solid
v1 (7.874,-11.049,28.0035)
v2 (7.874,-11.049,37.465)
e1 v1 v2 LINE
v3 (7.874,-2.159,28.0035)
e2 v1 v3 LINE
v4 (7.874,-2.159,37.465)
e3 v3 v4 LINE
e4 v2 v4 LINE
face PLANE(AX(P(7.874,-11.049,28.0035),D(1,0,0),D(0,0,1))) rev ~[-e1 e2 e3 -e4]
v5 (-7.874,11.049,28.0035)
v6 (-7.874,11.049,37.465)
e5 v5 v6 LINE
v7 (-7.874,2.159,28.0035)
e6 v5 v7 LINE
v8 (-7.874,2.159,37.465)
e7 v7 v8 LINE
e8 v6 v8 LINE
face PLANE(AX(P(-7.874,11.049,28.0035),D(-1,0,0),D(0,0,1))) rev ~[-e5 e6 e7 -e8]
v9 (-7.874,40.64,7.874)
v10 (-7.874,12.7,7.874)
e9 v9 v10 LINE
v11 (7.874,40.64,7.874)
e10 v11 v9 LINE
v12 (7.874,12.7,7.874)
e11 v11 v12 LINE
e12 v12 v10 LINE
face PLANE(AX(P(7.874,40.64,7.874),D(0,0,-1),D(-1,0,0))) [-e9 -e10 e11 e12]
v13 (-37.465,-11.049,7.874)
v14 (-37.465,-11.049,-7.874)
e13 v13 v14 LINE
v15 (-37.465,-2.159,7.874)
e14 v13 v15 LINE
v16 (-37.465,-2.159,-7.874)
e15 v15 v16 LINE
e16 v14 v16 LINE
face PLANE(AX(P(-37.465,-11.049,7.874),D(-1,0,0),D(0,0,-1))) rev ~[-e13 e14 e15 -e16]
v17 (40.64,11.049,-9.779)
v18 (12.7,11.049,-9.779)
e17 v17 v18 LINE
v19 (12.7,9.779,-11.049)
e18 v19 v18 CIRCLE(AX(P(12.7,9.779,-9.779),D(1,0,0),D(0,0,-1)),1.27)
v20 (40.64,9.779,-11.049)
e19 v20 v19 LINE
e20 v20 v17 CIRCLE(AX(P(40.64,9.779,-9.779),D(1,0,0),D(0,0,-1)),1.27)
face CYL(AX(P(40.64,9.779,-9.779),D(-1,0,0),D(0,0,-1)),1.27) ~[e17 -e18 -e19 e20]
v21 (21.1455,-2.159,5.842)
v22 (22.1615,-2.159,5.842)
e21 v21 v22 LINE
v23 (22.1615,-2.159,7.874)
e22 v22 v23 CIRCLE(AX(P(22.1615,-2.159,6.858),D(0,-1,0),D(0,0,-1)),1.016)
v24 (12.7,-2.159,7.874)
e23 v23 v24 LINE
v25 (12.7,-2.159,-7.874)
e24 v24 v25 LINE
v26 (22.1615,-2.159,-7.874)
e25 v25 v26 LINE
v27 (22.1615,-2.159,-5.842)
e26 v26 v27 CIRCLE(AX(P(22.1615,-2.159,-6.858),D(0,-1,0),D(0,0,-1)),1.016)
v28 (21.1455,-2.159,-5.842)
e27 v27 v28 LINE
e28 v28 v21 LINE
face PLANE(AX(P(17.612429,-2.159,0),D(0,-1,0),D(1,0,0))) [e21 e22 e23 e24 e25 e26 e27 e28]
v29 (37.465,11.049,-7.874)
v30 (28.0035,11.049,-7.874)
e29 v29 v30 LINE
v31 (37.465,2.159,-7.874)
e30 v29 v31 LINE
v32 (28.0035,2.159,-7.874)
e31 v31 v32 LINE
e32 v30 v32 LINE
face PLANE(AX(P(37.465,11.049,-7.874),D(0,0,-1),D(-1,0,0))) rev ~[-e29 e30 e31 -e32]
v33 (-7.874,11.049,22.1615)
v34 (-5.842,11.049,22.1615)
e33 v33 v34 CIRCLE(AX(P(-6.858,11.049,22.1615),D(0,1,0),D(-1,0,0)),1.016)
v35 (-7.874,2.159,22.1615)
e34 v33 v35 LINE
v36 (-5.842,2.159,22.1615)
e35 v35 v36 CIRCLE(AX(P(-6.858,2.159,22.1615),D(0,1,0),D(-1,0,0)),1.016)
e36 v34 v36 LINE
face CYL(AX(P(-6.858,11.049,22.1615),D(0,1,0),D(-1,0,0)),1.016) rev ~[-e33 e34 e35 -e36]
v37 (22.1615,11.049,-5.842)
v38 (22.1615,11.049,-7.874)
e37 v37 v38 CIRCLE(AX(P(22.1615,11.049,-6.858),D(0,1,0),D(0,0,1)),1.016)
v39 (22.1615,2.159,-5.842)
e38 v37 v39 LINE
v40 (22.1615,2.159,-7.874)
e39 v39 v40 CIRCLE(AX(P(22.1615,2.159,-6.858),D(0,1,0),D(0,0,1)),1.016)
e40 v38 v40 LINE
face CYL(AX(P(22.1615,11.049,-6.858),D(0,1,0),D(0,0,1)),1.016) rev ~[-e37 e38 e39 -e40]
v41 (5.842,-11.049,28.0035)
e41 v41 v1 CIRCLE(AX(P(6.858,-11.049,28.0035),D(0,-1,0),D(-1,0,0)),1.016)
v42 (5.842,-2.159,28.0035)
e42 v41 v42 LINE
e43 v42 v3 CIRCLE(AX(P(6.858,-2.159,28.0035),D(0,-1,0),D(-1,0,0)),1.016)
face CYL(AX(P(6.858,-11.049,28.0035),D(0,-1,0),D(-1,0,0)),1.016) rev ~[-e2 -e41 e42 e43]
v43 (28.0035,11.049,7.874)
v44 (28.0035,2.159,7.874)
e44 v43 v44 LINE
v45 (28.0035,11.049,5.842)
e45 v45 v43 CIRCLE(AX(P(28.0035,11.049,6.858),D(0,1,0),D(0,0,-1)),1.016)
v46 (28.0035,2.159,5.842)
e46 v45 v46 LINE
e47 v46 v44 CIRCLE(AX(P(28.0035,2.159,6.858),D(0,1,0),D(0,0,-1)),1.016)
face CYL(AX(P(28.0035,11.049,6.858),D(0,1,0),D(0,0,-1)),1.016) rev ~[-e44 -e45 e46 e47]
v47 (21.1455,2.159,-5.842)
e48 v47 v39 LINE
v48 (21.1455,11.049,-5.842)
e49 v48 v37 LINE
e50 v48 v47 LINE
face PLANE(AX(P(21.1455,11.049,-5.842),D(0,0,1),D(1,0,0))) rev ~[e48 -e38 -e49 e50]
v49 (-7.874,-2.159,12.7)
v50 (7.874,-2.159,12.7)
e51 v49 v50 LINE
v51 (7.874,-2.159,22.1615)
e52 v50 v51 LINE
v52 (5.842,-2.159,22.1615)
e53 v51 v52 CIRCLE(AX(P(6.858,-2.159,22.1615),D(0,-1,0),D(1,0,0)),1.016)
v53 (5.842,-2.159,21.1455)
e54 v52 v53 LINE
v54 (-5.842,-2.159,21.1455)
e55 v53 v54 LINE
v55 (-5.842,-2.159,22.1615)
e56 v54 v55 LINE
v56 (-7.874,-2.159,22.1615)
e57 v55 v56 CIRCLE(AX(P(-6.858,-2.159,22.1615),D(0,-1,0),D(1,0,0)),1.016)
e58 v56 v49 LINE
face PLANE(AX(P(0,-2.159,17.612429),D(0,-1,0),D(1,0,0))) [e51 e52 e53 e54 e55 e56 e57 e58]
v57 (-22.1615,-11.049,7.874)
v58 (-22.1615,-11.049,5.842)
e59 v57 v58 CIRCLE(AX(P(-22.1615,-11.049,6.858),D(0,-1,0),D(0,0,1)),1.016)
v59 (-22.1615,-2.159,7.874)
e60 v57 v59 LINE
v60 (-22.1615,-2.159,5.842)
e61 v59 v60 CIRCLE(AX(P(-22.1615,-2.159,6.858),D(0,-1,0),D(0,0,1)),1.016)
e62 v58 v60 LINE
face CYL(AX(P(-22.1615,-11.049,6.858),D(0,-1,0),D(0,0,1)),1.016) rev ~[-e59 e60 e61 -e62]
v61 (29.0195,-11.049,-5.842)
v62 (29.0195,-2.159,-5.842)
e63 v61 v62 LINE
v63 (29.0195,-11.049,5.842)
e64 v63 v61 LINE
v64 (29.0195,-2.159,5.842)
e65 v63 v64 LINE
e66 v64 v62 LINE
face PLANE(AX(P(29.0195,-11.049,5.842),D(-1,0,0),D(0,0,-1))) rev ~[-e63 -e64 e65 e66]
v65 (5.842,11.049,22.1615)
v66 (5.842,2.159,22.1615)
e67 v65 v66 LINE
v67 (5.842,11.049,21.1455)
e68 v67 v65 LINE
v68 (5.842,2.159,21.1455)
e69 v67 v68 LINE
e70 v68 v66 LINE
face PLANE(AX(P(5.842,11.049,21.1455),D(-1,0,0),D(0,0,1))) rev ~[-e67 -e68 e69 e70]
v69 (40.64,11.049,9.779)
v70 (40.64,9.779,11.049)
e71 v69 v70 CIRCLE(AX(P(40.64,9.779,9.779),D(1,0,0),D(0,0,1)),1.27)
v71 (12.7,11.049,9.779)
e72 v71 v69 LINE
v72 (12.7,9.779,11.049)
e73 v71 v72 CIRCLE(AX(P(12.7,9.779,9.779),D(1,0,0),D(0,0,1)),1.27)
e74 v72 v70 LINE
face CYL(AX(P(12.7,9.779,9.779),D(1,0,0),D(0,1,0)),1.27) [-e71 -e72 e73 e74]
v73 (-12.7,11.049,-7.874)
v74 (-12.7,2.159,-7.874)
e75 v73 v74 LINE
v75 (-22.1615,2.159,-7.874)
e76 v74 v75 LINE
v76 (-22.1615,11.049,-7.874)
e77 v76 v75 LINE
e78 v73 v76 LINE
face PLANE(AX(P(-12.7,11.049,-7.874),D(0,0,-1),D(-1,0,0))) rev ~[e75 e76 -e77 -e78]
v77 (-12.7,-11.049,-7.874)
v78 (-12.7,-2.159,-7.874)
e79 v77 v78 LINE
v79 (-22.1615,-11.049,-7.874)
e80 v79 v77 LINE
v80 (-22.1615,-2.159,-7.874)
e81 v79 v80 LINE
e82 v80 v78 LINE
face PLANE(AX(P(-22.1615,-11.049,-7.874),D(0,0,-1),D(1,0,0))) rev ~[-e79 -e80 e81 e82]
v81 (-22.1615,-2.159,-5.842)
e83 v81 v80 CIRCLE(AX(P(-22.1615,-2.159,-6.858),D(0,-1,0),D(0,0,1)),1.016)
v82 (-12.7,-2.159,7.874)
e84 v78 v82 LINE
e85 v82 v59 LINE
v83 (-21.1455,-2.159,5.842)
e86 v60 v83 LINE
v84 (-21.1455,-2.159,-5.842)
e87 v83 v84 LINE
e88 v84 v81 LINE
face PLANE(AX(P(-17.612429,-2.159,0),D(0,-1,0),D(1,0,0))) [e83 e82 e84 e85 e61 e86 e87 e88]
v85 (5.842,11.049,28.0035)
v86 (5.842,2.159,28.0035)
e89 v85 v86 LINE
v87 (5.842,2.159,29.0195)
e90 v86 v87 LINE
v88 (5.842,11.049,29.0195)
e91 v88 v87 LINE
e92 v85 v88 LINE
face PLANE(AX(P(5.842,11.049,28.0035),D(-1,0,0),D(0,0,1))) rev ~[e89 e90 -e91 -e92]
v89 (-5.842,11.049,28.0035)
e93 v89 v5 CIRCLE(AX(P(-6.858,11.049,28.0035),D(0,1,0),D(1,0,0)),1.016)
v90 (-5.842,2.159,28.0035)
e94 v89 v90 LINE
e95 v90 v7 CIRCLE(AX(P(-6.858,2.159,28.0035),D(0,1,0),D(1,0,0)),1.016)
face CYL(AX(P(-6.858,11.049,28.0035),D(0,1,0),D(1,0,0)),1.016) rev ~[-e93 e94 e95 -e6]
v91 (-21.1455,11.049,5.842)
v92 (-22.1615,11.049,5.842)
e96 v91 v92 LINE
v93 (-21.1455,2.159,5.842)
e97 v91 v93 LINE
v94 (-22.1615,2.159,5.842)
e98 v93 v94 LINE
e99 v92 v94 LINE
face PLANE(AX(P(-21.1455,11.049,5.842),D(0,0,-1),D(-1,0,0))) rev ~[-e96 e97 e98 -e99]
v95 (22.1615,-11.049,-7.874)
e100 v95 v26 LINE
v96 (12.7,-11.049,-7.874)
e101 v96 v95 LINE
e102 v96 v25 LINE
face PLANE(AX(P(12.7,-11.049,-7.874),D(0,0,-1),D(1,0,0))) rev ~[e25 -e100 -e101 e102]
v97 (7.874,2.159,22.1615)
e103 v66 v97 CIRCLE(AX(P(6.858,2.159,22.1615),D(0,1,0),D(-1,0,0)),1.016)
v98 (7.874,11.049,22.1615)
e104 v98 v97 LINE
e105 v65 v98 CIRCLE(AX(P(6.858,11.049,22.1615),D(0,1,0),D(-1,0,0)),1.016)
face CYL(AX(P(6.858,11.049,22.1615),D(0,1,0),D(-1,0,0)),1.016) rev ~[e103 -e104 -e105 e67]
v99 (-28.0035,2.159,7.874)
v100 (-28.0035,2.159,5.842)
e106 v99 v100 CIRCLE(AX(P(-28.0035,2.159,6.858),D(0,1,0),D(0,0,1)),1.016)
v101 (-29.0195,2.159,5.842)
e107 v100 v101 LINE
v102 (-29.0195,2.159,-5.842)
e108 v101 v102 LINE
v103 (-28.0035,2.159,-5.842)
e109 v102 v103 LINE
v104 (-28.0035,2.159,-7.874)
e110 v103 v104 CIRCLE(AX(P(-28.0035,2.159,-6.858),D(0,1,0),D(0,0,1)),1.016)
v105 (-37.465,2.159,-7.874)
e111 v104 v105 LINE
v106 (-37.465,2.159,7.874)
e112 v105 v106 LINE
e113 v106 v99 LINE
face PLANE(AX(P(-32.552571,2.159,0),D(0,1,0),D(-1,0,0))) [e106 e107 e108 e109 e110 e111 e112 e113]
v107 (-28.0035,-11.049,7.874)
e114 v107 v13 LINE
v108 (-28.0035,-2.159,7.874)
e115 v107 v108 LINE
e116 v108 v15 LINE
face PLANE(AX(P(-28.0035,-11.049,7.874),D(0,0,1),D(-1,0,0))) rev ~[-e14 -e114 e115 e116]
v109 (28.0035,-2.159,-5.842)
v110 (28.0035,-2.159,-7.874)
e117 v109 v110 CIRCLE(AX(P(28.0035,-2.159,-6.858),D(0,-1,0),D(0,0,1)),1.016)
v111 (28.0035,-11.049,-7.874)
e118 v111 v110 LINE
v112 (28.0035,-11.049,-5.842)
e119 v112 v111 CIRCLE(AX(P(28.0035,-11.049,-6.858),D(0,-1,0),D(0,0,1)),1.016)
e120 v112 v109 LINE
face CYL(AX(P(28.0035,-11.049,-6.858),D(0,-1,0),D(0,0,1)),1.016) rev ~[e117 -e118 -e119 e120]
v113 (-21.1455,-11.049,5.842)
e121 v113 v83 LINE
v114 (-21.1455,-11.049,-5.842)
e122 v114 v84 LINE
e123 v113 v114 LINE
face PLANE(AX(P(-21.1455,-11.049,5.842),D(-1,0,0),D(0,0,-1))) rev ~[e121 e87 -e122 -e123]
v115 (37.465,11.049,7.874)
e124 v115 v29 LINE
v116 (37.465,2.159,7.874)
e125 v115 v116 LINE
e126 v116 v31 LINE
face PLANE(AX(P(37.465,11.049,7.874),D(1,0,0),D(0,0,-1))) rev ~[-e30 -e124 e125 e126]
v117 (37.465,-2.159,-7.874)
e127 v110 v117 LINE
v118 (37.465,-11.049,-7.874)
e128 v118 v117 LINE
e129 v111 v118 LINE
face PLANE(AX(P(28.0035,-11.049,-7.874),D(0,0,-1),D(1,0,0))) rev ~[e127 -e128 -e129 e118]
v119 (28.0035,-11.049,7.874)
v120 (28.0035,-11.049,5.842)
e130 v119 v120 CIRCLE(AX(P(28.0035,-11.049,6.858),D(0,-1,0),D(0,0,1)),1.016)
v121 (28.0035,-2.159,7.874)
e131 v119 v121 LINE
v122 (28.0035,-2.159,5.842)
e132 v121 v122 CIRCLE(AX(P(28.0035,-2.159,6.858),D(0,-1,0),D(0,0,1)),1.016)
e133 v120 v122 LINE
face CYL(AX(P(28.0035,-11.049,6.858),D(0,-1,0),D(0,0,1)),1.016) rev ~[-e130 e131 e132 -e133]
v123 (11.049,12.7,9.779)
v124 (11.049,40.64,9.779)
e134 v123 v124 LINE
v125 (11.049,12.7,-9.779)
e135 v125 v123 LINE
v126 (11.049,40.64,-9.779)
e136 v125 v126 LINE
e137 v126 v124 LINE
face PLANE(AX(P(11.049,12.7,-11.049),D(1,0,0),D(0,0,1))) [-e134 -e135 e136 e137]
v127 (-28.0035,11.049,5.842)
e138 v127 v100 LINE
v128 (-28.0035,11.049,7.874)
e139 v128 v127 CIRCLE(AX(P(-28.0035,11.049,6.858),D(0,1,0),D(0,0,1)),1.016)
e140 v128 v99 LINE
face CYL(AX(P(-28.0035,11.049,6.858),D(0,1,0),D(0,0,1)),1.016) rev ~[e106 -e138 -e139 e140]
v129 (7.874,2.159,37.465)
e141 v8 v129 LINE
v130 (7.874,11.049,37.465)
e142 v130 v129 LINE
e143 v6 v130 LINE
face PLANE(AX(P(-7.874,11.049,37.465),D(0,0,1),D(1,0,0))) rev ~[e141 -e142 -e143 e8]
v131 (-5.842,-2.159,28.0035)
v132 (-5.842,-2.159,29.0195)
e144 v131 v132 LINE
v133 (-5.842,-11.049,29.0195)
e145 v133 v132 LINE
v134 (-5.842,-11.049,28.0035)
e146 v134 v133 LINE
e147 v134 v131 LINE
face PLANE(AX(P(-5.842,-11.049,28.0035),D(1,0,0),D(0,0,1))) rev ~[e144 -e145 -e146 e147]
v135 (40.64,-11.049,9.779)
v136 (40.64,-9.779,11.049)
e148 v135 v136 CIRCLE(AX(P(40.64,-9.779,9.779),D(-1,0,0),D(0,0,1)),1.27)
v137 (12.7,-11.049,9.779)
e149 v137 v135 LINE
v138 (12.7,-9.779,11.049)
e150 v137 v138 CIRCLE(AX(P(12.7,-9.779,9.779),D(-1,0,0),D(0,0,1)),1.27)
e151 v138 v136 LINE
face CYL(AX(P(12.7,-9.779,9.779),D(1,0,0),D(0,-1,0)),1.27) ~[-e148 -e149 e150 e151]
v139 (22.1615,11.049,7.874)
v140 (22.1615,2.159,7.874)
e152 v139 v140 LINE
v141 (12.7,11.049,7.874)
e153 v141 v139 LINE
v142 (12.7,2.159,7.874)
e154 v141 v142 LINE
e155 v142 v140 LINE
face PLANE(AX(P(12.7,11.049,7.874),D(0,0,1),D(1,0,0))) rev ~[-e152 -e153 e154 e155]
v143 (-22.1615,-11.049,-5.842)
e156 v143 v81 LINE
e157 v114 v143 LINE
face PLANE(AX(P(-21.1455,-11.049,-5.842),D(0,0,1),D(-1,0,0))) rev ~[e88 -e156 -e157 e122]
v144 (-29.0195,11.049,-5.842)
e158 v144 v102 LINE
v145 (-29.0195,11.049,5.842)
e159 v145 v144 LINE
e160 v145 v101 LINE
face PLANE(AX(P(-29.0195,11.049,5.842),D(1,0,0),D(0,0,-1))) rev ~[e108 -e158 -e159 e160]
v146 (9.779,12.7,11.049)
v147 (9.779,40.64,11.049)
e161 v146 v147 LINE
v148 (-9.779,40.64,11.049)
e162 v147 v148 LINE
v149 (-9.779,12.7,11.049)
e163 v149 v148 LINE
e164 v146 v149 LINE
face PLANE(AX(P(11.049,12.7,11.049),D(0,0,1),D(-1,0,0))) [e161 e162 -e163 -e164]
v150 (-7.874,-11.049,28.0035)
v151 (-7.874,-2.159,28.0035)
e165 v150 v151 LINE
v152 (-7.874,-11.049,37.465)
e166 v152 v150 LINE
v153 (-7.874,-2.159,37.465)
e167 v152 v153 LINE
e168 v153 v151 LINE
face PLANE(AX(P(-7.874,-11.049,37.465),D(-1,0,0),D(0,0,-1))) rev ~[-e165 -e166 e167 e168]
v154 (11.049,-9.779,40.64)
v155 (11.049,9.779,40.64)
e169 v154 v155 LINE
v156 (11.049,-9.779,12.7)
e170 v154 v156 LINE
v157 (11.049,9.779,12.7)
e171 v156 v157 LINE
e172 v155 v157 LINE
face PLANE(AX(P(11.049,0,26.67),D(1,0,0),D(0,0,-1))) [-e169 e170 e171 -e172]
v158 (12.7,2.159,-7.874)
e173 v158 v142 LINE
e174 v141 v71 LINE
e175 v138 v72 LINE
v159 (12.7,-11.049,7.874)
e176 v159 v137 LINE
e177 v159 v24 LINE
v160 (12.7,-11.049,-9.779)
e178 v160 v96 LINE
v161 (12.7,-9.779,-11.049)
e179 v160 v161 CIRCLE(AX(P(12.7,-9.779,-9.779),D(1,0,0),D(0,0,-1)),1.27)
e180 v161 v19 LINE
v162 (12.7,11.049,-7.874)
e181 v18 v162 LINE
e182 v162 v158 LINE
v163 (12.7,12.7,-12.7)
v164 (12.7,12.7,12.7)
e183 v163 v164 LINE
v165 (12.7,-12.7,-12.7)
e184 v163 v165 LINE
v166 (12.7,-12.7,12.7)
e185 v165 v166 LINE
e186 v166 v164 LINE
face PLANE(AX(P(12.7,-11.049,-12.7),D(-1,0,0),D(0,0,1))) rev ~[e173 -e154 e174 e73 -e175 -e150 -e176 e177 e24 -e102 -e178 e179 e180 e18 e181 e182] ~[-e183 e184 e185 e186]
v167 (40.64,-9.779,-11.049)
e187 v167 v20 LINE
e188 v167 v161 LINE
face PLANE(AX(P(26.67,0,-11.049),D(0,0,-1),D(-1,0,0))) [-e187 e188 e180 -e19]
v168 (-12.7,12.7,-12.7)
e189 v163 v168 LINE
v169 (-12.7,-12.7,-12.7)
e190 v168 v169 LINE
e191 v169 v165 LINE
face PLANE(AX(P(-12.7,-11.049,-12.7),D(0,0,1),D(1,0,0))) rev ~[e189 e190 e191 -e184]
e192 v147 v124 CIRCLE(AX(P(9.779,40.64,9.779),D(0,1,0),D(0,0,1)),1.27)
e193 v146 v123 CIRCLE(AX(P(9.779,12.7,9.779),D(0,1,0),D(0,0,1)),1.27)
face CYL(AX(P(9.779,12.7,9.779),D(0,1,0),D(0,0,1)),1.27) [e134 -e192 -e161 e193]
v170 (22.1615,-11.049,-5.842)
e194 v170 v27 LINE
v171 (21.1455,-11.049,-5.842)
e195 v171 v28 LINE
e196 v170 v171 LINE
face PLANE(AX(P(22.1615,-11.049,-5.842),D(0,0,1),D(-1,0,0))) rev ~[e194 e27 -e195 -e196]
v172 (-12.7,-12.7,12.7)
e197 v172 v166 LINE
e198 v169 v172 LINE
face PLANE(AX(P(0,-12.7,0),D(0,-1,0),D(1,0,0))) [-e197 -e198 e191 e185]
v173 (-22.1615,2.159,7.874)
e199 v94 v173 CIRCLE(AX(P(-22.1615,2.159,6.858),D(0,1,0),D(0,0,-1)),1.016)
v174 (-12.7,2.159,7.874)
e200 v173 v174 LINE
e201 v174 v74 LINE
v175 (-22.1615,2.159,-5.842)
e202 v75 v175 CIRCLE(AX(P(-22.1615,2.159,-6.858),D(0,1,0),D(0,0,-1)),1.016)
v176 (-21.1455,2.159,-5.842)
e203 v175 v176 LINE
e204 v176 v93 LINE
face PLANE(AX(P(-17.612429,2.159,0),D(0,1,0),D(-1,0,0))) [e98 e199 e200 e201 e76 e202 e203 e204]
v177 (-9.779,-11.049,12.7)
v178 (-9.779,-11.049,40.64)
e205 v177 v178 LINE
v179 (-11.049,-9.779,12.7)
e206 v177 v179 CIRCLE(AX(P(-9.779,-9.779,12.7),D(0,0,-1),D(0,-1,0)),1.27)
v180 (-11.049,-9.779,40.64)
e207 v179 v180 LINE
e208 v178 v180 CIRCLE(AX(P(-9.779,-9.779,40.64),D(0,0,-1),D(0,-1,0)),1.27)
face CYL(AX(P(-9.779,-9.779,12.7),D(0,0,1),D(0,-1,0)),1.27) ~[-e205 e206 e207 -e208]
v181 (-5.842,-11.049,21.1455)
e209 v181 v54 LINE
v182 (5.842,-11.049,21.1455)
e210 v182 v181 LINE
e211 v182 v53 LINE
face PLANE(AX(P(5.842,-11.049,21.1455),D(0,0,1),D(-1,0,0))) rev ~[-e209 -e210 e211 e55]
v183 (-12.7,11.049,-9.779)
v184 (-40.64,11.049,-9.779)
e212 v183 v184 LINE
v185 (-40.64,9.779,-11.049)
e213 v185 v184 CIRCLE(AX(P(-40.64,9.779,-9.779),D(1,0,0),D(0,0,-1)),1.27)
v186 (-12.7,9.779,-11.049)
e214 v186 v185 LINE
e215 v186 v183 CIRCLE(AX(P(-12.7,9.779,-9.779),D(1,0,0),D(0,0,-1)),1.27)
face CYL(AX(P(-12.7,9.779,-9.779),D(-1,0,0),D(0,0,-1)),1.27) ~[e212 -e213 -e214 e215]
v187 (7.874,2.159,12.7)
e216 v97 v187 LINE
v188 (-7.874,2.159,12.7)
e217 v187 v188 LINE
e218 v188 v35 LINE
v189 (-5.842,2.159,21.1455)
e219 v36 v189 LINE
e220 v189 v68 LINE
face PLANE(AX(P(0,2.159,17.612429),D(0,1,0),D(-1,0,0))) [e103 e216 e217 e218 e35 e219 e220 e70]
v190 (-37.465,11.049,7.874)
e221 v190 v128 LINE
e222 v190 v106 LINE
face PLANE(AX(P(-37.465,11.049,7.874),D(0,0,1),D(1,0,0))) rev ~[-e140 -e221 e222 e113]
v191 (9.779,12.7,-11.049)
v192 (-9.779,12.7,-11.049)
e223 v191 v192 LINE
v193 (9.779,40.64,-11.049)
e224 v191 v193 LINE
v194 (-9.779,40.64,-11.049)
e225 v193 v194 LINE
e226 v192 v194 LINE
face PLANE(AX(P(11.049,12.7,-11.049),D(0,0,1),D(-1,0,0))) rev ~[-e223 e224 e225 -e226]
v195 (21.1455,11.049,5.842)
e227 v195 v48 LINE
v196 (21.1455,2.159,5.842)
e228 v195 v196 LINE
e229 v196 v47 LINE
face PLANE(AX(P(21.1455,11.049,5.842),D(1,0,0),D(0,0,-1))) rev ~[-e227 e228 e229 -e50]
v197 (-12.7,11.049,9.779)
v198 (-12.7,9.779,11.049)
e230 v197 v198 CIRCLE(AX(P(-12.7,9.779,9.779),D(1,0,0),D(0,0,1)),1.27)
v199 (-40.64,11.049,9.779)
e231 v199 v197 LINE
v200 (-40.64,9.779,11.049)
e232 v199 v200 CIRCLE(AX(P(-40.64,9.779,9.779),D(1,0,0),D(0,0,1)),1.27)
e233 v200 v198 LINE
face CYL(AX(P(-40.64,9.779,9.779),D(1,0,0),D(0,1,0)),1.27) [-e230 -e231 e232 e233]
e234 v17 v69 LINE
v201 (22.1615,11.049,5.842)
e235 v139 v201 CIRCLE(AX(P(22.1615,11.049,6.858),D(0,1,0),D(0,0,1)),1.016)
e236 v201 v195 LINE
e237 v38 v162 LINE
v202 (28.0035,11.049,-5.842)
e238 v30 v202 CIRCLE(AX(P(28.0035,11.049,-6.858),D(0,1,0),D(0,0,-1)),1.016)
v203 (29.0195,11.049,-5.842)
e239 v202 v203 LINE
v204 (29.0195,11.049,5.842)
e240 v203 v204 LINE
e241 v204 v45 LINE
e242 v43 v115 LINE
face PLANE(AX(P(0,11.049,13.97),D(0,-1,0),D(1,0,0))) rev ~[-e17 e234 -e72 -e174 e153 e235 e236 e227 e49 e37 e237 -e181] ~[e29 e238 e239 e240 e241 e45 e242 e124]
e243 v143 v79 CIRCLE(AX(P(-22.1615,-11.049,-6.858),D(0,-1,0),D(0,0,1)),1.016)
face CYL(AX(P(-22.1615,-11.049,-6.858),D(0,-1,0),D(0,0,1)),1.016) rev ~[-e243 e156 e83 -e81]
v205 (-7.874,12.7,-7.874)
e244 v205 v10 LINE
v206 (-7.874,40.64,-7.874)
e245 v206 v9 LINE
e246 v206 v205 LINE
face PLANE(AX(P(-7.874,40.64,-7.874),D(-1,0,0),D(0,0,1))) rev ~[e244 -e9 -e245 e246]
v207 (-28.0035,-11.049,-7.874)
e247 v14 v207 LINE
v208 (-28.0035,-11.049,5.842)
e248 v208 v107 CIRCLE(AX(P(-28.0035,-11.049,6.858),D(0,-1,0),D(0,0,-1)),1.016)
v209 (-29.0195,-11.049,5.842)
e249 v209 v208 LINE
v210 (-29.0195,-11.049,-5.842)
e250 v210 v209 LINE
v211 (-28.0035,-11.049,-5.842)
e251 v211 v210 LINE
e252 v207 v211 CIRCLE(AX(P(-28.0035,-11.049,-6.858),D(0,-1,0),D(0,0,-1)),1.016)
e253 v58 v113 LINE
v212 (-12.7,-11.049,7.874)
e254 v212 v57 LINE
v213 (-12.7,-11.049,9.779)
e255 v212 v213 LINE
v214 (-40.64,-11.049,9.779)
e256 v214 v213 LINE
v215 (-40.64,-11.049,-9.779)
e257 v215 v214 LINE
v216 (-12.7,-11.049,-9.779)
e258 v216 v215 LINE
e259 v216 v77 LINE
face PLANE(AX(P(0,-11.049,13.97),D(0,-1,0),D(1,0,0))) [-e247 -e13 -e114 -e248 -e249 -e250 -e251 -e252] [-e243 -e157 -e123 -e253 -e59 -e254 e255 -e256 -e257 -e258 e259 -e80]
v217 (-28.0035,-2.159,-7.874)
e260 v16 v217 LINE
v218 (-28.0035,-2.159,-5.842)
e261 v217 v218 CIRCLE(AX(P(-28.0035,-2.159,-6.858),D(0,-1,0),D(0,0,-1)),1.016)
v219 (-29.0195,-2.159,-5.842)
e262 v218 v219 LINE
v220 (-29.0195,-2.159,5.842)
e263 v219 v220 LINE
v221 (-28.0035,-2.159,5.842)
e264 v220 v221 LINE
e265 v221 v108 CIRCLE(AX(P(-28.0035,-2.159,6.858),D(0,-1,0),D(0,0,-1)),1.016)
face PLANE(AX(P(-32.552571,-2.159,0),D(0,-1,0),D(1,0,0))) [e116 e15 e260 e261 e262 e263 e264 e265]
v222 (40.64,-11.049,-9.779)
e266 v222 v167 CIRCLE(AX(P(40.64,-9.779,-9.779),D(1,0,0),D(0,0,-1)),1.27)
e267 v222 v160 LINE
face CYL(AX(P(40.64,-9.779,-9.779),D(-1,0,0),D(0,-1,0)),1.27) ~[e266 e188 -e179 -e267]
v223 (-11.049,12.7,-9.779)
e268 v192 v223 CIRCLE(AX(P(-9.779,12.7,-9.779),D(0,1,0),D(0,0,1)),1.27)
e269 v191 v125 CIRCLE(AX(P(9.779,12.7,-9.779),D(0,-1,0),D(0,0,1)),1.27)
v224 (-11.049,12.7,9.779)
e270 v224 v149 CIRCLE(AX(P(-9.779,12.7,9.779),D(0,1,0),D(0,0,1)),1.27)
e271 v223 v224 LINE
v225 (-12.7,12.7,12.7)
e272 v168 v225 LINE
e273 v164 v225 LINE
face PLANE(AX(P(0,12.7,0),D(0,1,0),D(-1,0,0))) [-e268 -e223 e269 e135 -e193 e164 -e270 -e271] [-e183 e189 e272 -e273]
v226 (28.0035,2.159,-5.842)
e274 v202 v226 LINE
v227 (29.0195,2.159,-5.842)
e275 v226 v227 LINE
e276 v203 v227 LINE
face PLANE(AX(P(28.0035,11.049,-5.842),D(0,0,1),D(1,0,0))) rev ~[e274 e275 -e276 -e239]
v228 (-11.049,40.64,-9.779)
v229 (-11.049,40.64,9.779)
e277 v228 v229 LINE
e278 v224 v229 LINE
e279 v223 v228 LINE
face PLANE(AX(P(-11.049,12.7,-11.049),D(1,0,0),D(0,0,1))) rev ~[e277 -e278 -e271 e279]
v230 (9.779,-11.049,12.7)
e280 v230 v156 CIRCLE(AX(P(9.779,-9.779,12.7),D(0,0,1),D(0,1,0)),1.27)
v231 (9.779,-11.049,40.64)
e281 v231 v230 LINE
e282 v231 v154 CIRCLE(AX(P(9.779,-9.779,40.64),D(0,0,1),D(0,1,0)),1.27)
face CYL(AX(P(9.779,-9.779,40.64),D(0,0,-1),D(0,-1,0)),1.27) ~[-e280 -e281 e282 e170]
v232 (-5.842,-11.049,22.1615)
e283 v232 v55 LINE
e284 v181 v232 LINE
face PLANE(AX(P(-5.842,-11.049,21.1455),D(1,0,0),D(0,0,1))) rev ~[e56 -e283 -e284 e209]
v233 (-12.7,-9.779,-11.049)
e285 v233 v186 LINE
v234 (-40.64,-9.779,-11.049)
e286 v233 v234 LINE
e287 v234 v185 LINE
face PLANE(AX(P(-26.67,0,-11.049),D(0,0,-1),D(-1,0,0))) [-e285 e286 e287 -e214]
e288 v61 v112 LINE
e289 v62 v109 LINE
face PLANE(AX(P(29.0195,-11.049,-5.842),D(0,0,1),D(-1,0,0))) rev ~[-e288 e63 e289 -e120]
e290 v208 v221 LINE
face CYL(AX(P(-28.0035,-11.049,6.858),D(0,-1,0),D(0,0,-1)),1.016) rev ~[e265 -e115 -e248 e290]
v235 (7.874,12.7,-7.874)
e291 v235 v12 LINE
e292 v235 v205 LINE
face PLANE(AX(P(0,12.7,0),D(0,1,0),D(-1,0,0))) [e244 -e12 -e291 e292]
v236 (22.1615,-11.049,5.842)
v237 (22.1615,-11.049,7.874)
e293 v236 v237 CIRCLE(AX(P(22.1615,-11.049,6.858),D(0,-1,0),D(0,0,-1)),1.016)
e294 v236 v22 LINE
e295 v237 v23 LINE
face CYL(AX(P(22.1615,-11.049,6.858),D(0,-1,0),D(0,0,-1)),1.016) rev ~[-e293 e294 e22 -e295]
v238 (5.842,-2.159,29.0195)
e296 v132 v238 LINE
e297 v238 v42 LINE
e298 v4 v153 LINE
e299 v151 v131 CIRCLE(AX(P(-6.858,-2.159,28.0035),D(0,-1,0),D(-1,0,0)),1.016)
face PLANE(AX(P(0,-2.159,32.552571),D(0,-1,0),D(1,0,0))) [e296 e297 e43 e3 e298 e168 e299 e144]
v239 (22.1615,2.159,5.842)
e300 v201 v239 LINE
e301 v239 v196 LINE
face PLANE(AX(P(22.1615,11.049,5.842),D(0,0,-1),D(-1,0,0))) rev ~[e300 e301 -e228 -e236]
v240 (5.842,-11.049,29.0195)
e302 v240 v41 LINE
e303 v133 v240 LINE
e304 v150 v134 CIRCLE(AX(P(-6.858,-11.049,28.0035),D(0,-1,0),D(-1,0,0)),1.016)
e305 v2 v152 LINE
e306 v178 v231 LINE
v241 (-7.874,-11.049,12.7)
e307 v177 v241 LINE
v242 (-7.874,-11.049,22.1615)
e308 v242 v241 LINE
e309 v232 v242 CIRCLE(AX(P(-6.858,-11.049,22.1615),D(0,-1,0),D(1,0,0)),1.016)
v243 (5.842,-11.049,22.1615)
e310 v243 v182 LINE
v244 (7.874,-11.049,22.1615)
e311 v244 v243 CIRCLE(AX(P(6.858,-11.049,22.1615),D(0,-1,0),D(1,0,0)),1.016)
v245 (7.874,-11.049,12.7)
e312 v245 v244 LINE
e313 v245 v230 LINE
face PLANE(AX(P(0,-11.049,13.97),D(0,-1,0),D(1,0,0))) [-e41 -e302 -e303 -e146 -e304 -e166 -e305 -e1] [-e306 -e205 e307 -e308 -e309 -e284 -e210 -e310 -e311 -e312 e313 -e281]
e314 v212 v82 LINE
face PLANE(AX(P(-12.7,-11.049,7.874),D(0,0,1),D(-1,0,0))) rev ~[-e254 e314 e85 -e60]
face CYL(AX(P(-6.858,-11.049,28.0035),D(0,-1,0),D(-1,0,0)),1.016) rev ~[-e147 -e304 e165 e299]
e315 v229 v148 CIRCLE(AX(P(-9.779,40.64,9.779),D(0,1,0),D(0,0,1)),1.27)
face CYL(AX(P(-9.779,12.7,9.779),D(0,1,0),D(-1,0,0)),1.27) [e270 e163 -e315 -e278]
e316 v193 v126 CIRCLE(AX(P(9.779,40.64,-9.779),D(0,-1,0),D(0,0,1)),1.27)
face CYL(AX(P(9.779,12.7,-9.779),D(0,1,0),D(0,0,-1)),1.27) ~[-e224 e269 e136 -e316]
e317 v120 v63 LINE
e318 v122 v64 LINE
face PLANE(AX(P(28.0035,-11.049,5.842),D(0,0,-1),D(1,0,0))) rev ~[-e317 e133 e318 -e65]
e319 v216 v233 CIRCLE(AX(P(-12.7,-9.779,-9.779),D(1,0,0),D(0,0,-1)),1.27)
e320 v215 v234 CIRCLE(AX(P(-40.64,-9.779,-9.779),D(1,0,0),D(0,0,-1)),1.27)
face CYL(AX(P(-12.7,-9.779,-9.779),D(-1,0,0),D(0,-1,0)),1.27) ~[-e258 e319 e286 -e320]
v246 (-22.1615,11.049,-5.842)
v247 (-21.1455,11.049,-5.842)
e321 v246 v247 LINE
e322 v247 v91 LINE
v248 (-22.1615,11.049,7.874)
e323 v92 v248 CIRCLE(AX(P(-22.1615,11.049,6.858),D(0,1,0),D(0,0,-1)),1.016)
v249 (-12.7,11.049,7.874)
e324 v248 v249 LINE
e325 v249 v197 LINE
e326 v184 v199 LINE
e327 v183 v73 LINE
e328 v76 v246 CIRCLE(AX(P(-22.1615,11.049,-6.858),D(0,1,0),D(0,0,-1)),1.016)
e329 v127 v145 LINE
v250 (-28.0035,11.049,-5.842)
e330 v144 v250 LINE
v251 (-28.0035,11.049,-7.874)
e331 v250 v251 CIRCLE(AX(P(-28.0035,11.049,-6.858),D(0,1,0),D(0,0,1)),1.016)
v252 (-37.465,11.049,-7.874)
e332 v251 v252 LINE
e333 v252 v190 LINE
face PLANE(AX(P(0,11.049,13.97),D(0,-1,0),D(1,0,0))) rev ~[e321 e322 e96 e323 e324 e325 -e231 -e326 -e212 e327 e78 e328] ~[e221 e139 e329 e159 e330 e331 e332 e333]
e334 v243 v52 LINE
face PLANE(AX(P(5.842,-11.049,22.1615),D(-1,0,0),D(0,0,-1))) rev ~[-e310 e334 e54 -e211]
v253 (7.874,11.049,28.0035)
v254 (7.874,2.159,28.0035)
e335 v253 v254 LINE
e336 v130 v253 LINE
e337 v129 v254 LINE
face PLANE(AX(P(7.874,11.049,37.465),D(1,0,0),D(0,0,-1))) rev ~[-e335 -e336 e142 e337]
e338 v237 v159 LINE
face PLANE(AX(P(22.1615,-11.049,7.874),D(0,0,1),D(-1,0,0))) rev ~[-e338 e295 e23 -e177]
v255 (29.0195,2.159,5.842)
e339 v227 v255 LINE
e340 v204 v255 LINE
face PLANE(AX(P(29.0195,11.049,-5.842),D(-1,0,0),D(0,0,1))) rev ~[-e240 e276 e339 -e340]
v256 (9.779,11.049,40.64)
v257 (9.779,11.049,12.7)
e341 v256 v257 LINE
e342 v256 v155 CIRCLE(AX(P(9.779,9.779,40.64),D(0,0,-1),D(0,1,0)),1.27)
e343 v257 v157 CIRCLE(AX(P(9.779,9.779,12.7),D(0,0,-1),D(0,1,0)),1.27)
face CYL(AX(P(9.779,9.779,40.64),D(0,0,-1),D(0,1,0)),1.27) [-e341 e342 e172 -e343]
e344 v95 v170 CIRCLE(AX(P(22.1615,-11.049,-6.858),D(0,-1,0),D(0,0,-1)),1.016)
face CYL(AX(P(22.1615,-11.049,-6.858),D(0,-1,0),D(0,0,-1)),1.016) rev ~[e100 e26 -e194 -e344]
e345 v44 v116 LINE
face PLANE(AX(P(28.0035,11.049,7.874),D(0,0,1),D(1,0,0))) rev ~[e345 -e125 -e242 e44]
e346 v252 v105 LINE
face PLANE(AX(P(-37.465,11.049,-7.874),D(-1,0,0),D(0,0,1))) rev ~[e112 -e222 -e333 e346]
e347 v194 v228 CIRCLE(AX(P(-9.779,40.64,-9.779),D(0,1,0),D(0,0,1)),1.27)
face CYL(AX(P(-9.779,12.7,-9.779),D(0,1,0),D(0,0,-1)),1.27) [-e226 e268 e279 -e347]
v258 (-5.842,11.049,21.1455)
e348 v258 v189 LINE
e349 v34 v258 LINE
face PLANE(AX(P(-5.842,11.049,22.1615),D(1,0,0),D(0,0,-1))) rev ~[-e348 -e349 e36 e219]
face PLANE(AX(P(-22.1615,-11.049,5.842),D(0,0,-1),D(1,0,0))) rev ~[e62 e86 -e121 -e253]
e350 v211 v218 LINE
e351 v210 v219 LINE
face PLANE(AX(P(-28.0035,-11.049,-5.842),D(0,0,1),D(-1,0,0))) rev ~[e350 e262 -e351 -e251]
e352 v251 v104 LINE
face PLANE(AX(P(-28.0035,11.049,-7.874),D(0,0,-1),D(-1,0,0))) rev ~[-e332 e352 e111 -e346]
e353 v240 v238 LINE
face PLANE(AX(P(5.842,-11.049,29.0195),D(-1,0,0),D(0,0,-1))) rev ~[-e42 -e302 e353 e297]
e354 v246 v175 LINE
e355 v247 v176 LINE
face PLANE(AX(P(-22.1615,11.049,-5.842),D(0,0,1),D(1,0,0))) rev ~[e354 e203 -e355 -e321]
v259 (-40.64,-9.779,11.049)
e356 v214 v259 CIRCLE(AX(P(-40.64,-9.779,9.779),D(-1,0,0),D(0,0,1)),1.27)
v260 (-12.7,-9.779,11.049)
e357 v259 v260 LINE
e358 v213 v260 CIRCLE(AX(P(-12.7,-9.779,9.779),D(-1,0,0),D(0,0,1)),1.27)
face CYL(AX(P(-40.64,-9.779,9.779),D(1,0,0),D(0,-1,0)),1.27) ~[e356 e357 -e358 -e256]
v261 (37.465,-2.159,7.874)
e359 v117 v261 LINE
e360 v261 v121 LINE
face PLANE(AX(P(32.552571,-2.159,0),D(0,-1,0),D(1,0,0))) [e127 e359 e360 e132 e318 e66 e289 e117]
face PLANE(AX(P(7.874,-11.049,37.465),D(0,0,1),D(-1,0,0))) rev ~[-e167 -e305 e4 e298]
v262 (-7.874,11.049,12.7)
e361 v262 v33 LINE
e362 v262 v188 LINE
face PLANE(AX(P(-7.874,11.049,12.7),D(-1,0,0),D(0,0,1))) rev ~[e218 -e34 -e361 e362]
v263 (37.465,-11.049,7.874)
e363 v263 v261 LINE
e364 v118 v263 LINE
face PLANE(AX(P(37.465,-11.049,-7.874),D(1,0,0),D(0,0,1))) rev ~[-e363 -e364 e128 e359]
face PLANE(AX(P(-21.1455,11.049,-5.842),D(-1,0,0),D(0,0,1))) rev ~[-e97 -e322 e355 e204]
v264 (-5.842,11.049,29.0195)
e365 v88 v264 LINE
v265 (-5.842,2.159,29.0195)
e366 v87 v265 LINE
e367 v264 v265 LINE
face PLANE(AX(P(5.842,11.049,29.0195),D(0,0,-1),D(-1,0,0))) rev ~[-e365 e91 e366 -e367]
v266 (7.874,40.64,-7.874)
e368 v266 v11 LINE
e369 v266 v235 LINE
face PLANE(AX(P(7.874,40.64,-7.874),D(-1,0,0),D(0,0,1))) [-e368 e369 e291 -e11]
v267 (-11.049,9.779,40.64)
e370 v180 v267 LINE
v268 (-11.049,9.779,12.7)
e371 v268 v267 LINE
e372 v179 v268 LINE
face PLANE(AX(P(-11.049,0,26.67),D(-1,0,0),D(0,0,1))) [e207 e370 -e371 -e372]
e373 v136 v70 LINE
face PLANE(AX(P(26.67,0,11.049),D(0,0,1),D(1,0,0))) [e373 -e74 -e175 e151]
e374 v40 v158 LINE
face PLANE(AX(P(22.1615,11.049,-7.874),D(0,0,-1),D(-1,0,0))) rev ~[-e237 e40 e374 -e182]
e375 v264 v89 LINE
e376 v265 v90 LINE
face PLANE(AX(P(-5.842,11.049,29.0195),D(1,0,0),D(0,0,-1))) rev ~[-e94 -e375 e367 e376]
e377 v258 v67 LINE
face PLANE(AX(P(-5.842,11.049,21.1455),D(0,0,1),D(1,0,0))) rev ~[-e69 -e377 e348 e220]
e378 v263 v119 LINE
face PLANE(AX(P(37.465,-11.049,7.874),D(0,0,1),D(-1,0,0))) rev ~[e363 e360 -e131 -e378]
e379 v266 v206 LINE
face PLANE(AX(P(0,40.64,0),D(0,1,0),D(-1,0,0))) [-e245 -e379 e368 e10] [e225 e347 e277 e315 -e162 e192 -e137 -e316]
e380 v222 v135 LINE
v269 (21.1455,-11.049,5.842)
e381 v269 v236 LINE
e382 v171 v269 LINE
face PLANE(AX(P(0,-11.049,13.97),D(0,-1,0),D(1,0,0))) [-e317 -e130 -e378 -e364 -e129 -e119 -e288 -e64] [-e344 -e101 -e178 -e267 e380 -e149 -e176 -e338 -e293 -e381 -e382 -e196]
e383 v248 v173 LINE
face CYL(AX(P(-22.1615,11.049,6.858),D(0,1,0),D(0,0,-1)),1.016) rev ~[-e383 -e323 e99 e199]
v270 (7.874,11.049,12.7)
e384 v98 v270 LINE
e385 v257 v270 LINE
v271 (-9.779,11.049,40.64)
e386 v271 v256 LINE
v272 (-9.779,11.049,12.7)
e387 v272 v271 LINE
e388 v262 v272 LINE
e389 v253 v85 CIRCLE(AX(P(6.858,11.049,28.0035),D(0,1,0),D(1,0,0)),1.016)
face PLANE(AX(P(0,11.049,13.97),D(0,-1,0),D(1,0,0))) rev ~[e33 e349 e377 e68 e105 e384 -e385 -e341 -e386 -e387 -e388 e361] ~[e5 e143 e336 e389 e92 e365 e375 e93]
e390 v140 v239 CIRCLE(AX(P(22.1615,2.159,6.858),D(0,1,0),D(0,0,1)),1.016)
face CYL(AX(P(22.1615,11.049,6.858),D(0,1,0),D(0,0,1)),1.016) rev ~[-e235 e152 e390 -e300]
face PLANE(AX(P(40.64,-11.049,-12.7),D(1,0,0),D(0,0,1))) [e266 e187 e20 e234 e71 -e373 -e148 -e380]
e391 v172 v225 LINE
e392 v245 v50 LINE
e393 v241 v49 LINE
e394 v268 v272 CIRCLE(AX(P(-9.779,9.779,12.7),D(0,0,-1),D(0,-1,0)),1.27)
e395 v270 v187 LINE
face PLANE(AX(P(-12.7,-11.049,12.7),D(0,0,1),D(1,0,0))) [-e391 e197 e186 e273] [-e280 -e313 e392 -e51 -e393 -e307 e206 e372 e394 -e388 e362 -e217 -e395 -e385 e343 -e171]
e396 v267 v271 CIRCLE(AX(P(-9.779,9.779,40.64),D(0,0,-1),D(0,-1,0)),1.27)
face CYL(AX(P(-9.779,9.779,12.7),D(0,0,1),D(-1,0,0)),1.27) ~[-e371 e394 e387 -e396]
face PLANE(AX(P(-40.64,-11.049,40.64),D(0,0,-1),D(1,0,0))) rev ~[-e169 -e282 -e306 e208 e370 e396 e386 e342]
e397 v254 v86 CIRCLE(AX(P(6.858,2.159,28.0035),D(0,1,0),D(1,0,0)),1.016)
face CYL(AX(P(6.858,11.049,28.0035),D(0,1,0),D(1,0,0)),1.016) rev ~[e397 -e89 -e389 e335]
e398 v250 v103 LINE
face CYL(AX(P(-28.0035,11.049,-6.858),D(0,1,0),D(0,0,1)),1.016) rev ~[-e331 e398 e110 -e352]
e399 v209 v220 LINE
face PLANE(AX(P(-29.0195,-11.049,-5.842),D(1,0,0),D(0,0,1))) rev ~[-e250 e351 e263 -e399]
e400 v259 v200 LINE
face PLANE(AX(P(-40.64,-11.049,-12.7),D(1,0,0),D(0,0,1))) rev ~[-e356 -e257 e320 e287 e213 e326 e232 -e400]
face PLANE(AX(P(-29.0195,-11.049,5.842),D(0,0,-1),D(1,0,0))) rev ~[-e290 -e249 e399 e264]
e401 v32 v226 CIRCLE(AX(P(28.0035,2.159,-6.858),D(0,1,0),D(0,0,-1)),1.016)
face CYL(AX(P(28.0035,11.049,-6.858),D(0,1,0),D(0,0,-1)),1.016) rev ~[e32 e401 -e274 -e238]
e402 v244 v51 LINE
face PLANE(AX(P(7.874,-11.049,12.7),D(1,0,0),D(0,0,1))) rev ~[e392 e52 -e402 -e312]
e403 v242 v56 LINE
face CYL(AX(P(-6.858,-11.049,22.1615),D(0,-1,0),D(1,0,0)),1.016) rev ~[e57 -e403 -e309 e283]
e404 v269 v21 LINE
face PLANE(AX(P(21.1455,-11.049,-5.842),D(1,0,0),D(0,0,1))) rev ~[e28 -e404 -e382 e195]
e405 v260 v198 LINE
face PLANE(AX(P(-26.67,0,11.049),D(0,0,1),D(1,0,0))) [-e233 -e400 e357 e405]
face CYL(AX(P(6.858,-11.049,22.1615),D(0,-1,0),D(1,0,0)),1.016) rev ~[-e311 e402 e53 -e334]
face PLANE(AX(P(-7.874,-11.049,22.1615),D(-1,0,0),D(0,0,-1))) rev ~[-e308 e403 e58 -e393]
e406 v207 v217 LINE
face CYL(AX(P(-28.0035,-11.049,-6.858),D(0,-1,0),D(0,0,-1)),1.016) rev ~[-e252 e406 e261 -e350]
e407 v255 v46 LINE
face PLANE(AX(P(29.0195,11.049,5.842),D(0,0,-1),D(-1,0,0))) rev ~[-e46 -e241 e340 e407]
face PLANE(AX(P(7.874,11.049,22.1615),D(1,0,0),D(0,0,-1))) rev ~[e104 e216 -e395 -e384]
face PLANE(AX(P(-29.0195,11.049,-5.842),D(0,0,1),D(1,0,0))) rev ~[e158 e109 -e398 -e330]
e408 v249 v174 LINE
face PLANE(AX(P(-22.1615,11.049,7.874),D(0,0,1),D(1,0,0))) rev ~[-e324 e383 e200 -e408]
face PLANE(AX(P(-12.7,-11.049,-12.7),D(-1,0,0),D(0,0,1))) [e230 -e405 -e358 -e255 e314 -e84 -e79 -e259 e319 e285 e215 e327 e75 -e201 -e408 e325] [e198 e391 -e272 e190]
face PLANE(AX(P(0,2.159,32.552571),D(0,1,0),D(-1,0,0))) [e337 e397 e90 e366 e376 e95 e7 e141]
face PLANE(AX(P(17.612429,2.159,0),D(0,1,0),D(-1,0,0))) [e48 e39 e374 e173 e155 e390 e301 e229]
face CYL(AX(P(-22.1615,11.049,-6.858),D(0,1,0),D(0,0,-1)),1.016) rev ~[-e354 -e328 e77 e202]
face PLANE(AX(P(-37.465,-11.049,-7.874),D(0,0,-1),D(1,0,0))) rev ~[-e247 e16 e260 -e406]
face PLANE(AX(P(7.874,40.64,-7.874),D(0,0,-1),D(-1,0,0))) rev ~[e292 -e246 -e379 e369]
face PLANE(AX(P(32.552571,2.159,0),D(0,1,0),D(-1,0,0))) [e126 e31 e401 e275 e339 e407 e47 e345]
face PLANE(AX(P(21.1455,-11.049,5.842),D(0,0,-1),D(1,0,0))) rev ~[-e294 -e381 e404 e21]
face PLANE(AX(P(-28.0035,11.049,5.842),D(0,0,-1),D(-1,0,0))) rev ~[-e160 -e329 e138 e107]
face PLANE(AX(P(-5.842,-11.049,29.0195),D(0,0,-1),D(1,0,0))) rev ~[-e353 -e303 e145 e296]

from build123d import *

# Parameters (mm, degrees)
SKETCH1_W           = 81.28
SKETCH1_H           = 53.34
BOSS_EXTRUDE1_DEPTH = 22.098
SKETCH2_W           = 27.94
SKETCH2_H           = 22.098
CUT_EXTRUDE1_DEPTH  = 29.591
SKETCH3_W           = 27.94
SKETCH3_H           = 22.098
CUT_EXTRUDE2_DEPTH  = 1.651
SKETCH4_W           = 27.94
SKETCH4_H           = 22.098
CUT_EXTRUDE3_DEPTH  = 29.591
SKETCH5_W           = 27.94
SKETCH5_H           = 22.098
CUT_EXTRUDE4_DEPTH  = 1.651
SKETCH6_W           = 27.94
SKETCH6_H           = 22.098
CUT_EXTRUDE5_DEPTH  = 1.651
CUT_EXTRUDE6_DEPTH  = 8.89
SKETCH8_W           = 27.94
SKETCH8_H           = 22.098
CUT_EXTRUDE7_DEPTH  = 1.651
CUT_EXTRUDE8_DEPTH  = 8.89
SKETCH10_W          = 25.4
SKETCH10_H          = 25.4
BOSS_EXTRUDE2_DEPTH = 1.651
SKETCH11_W          = 25.4
SKETCH11_H          = 25.4
BOSS_EXTRUDE3_DEPTH = 1.651
CUT_EXTRUDE9_DEPTH  = 8.89
CUT_EXTRUDE10_DEPTH = 8.89
CUT_EXTRUDE11_DEPTH = 8.89
CUT_EXTRUDE12_DEPTH = 8.89
CUT_EXTRUDE13_DEPTH = 8.89
CUT_EXTRUDE14_DEPTH = 8.89
CUT_EXTRUDE15_DEPTH = 8.89
CUT_EXTRUDE16_DEPTH = 8.89
CUT_EXTRUDE17_DEPTH = 8.89
CUT_EXTRUDE18_DEPTH = 8.89
SKETCH22_W          = 22.098
SKETCH22_H          = 22.098
BOSS_EXTRUDE4_DEPTH = 27.94
SKETCH23_W          = 15.748
SKETCH23_H          = 15.748
CUT_EXTRUDE19_DEPTH = 27.94
FILLET1_R           = 1.27


with BuildPart() as part:
    # Sketch1 → Boss-Extrude1 (new body)
    with BuildSketch(Plane.XZ.offset(11.049)):
        with Locations((0, 13.97)):
            Rectangle(SKETCH1_W, SKETCH1_H)
    extrude(amount=-BOSS_EXTRUDE1_DEPTH)

    # Sketch2 → Cut-Extrude1 (cut)
    with BuildSketch(Plane.XY.offset(40.64)):
        with Locations((-26.67, 0)):
            Rectangle(SKETCH2_W, SKETCH2_H)
    extrude(amount=-CUT_EXTRUDE1_DEPTH, mode=Mode.SUBTRACT)

    # Sketch3 → Cut-Extrude2 (cut)
    with BuildSketch(Plane(origin=(0, 0, -12.7), x_dir=(-1, 0, 0), z_dir=(0, 0, -1))):
        with Locations((26.67, 0)):
            Rectangle(SKETCH3_W, SKETCH3_H)
    extrude(amount=-CUT_EXTRUDE2_DEPTH, mode=Mode.SUBTRACT)

    # Sketch4 → Cut-Extrude3 (cut)
    with BuildSketch(Plane(origin=(40.64, 0, 0), x_dir=(0, 0, -1), z_dir=(1, 0, 0))):
        with Locations((-26.67, 0)):
            Rectangle(SKETCH4_W, SKETCH4_H)
    extrude(amount=-CUT_EXTRUDE3_DEPTH, mode=Mode.SUBTRACT)

    # Sketch5 → Cut-Extrude4 (cut)
    with BuildSketch(Plane.ZY.offset(12.7)):
        with Locations((26.67, 0)):
            Rectangle(SKETCH5_W, SKETCH5_H)
    extrude(amount=-CUT_EXTRUDE4_DEPTH, mode=Mode.SUBTRACT)

    # Sketch6 → Cut-Extrude5 (cut)
    with BuildSketch(Plane.XY.offset(12.7)):
        with Locations((26.67, 0)):
            Rectangle(SKETCH6_W, SKETCH6_H)
    extrude(amount=-CUT_EXTRUDE5_DEPTH, mode=Mode.SUBTRACT)

    # Sketch7 → Cut-Extrude6 (cut)
    with BuildSketch(Plane(origin=(0, 11.049, 0), x_dir=(-1, 0, 0), z_dir=(0, 1, 0))):
        with BuildLine():
            Line((-12.7, -7.874), (-12.7, 7.874))
            Line((-12.7, 7.874), (-22.1615, 7.874))
            ThreePointArc((-22.1615, 7.874), (-23.1775, 6.858), (-22.1615, 5.842))
            Line((-22.1615, 5.842), (-21.1455, 5.842))
            Line((-21.1455, 5.842), (-21.1455, -5.842))
            Line((-21.1455, -5.842), (-22.1615, -5.842))
            ThreePointArc((-22.1615, -5.842), (-23.1775, -6.858), (-22.1615, -7.874))
            Line((-22.1615, -7.874), (-12.7, -7.874))
        make_face()
    extrude(amount=-CUT_EXTRUDE6_DEPTH, mode=Mode.SUBTRACT)

    # Sketch8 → Cut-Extrude7 (cut)
    with BuildSketch(Plane(origin=(0, 0, -12.7), x_dir=(-1, 0, 0), z_dir=(0, 0, -1))):
        with Locations((-26.67, 0)):
            Rectangle(SKETCH8_W, SKETCH8_H)
    extrude(amount=-CUT_EXTRUDE7_DEPTH, mode=Mode.SUBTRACT)

    # Sketch9 → Cut-Extrude8 (cut)
    with BuildSketch(Plane(origin=(0, 11.049, 0), x_dir=(-1, 0, 0), z_dir=(0, 1, 0))):
        with BuildLine():
            Line((7.874, 12.7), (7.874, 22.1615))
            ThreePointArc((7.874, 22.1615), (6.858, 23.1775), (5.842, 22.1615))
            Line((5.842, 22.1615), (5.842, 21.1455))
            Line((5.842, 21.1455), (-5.842, 21.1455))
            Line((-5.842, 21.1455), (-5.842, 22.1615))
            ThreePointArc((-5.842, 22.1615), (-6.858, 23.1775), (-7.874, 22.1615))
            Line((-7.874, 22.1615), (-7.874, 12.7))
            Line((-7.874, 12.7), (7.874, 12.7))
        make_face()
    extrude(amount=-CUT_EXTRUDE8_DEPTH, mode=Mode.SUBTRACT)

    # Sketch10 → Boss-Extrude2 (add)
    with BuildSketch(Plane(origin=(0, 11.049, 0), x_dir=(-1, 0, 0), z_dir=(0, 1, 0))):
        Rectangle(SKETCH10_W, SKETCH10_H)
    extrude(amount=BOSS_EXTRUDE2_DEPTH)

    # Sketch11 → Boss-Extrude3 (add)
    with BuildSketch(Plane.XZ.offset(11.049)):
        Rectangle(SKETCH11_W, SKETCH11_H)
    extrude(amount=BOSS_EXTRUDE3_DEPTH)

    # Sketch12 → Cut-Extrude9 (cut)
    with BuildSketch(Plane.XZ.offset(11.049)):
        with BuildLine():
            Line((-7.874, 22.1615), (-7.874, 12.7))
            Line((-7.874, 12.7), (7.874, 12.7))
            Line((7.874, 12.7), (7.874, 22.1615))
            ThreePointArc((7.874, 22.1615), (6.858, 23.1775), (5.842, 22.1615))
            Line((5.842, 22.1615), (5.842, 21.1455))
            Line((5.842, 21.1455), (-5.842, 21.1455))
            Line((-5.842, 21.1455), (-5.842, 22.1615))
            ThreePointArc((-5.842, 22.1615), (-6.858, 23.1775), (-7.874, 22.1615))
        make_face()
    extrude(amount=-CUT_EXTRUDE9_DEPTH, mode=Mode.SUBTRACT)

    # Sketch13 → Cut-Extrude10 (cut)
    with BuildSketch(Plane.XZ.offset(11.049)):
        with BuildLine():
            Line((12.7, 7.874), (12.7, -7.874))
            Line((12.7, -7.874), (22.1615, -7.874))
            ThreePointArc((22.1615, -7.874), (23.1775, -6.858), (22.1615, -5.842))
            Line((22.1615, -5.842), (21.1455, -5.842))
            Line((21.1455, -5.842), (21.1455, 5.842))
            Line((21.1455, 5.842), (22.1615, 5.842))
            ThreePointArc((22.1615, 5.842), (23.1775, 6.858), (22.1615, 7.874))
            Line((22.1615, 7.874), (12.7, 7.874))
        make_face()
    extrude(amount=-CUT_EXTRUDE10_DEPTH, mode=Mode.SUBTRACT)

    # Sketch14 → Cut-Extrude11 (cut)
    with BuildSketch(Plane.XZ.offset(11.049)):
        with BuildLine():
            Line((-22.1615, 5.842), (-21.1455, 5.842))
            Line((-21.1455, 5.842), (-21.1455, -5.842))
            Line((-21.1455, -5.842), (-22.1615, -5.842))
            ThreePointArc((-22.1615, -5.842), (-23.1775, -6.858), (-22.1615, -7.874))
            Line((-22.1615, -7.874), (-12.7, -7.874))
            Line((-12.7, -7.874), (-12.7, 7.874))
            Line((-12.7, 7.874), (-22.1615, 7.874))
            ThreePointArc((-22.1615, 7.874), (-23.1775, 6.858), (-22.1615, 5.842))
        make_face()
    extrude(amount=-CUT_EXTRUDE11_DEPTH, mode=Mode.SUBTRACT)

    # Sketch15 → Cut-Extrude12 (cut)
    with BuildSketch(Plane(origin=(0, 11.049, 0), x_dir=(-1, 0, 0), z_dir=(0, 1, 0))):
        with BuildLine():
            Line((21.1455, 5.842), (22.1615, 5.842))
            ThreePointArc((22.1615, 5.842), (23.1775, 6.858), (22.1615, 7.874))
            Line((22.1615, 7.874), (12.7, 7.874))
            Line((12.7, 7.874), (12.7, -7.874))
            Line((12.7, -7.874), (22.1615, -7.874))
            ThreePointArc((22.1615, -7.874), (23.1775, -6.858), (22.1615, -5.842))
            Line((22.1615, -5.842), (21.1455, -5.842))
            Line((21.1455, -5.842), (21.1455, 5.842))
        make_face()
    extrude(amount=-CUT_EXTRUDE12_DEPTH, mode=Mode.SUBTRACT)

    # Sketch16 → Cut-Extrude13 (cut)
    with BuildSketch(Plane.XZ.offset(11.049)):
        with BuildLine():
            Line((-37.465, 7.874), (-37.465, -7.874))
            Line((-37.465, -7.874), (-28.0035, -7.874))
            ThreePointArc((-28.0035, -7.874), (-26.9875, -6.858), (-28.0035, -5.842))
            Line((-28.0035, -5.842), (-29.0195, -5.842))
            Line((-29.0195, -5.842), (-29.0195, 5.842))
            Line((-29.0195, 5.842), (-28.0035, 5.842))
            ThreePointArc((-28.0035, 5.842), (-26.9875, 6.858), (-28.0035, 7.874))
            Line((-28.0035, 7.874), (-37.465, 7.874))
        make_face()
    extrude(amount=-CUT_EXTRUDE13_DEPTH, mode=Mode.SUBTRACT)

    # Sketch17 → Cut-Extrude14 (cut)
    with BuildSketch(Plane.XZ.offset(11.049)):
        with BuildLine():
            Line((28.0035, 5.842), (29.0195, 5.842))
            Line((29.0195, 5.842), (29.0195, -5.842))
            Line((29.0195, -5.842), (28.0035, -5.842))
            ThreePointArc((28.0035, -5.842), (26.9875, -6.858), (28.0035, -7.874))
            Line((28.0035, -7.874), (37.465, -7.874))
            Line((37.465, -7.874), (37.465, 7.874))
            Line((37.465, 7.874), (28.0035, 7.874))
            ThreePointArc((28.0035, 7.874), (26.9875, 6.858), (28.0035, 5.842))
        make_face()
    extrude(amount=-CUT_EXTRUDE14_DEPTH, mode=Mode.SUBTRACT)

    # Sketch18 → Cut-Extrude15 (cut)
    with BuildSketch(Plane(origin=(0, 11.049, 0), x_dir=(-1, 0, 0), z_dir=(0, 1, 0))):
        with BuildLine():
            Line((-29.0195, -5.842), (-29.0195, 5.842))
            Line((-29.0195, 5.842), (-28.0035, 5.842))
            ThreePointArc((-28.0035, 5.842), (-26.9875, 6.858), (-28.0035, 7.874))
            Line((-28.0035, 7.874), (-37.465, 7.874))
            Line((-37.465, 7.874), (-37.465, -7.874))
            Line((-37.465, -7.874), (-28.0035, -7.874))
            ThreePointArc((-28.0035, -7.874), (-26.9875, -6.858), (-28.0035, -5.842))
            Line((-28.0035, -5.842), (-29.0195, -5.842))
        make_face()
    extrude(amount=-CUT_EXTRUDE15_DEPTH, mode=Mode.SUBTRACT)

    # Sketch19 → Cut-Extrude16 (cut)
    with BuildSketch(Plane.XZ.offset(11.049)):
        with BuildLine():
            Line((-7.874, 37.465), (-7.874, 28.0035))
            ThreePointArc((-7.874, 28.0035), (-6.858, 26.9875), (-5.842, 28.0035))
            Line((-5.842, 28.0035), (-5.842, 29.0195))
            Line((-5.842, 29.0195), (5.842, 29.0195))
            Line((5.842, 29.0195), (5.842, 28.0035))
            ThreePointArc((5.842, 28.0035), (6.858, 26.9875), (7.874, 28.0035))
            Line((7.874, 28.0035), (7.874, 37.465))
            Line((7.874, 37.465), (-7.874, 37.465))
        make_face()
    extrude(amount=-CUT_EXTRUDE16_DEPTH, mode=Mode.SUBTRACT)

    # Sketch20 → Cut-Extrude17 (cut)
    with BuildSketch(Plane(origin=(0, 11.049, 0), x_dir=(-1, 0, 0), z_dir=(0, 1, 0))):
        with BuildLine():
            Line((5.842, 29.0195), (5.842, 28.0035))
            ThreePointArc((5.842, 28.0035), (6.858, 26.9875), (7.874, 28.0035))
            Line((7.874, 28.0035), (7.874, 37.465))
            Line((7.874, 37.465), (-7.874, 37.465))
            Line((-7.874, 37.465), (-7.874, 28.0035))
            ThreePointArc((-7.874, 28.0035), (-6.858, 26.9875), (-5.842, 28.0035))
            Line((-5.842, 28.0035), (-5.842, 29.0195))
            Line((-5.842, 29.0195), (5.842, 29.0195))
        make_face()
    extrude(amount=-CUT_EXTRUDE17_DEPTH, mode=Mode.SUBTRACT)

    # Sketch21 → Cut-Extrude18 (cut)
    with BuildSketch(Plane(origin=(0, 11.049, 0), x_dir=(-1, 0, 0), z_dir=(0, 1, 0))):
        with BuildLine():
            Line((28.0035, -7.874), (37.465, -7.874))
            Line((37.465, -7.874), (37.465, 7.874))
            Line((37.465, 7.874), (28.0035, 7.874))
            ThreePointArc((28.0035, 7.874), (26.9875, 6.858), (28.0035, 5.842))
            Line((28.0035, 5.842), (29.0195, 5.842))
            Line((29.0195, 5.842), (29.0195, -5.842))
            Line((29.0195, -5.842), (28.0035, -5.842))
            ThreePointArc((28.0035, -5.842), (26.9875, -6.858), (28.0035, -7.874))
        make_face()
    extrude(amount=-CUT_EXTRUDE18_DEPTH, mode=Mode.SUBTRACT)

    # Sketch22 → Boss-Extrude4 (add)
    with BuildSketch(Plane(origin=(0, 12.7, 0), x_dir=(-1, 0, 0), z_dir=(0, 1, 0))):
        Rectangle(SKETCH22_W, SKETCH22_H)
    extrude(amount=BOSS_EXTRUDE4_DEPTH)

    # Sketch23 → Cut-Extrude19 (cut)
    with BuildSketch(Plane(origin=(0, 40.64, 0), x_dir=(-1, 0, 0), z_dir=(0, 1, 0))):
        Rectangle(SKETCH23_W, SKETCH23_H)
    extrude(amount=-CUT_EXTRUDE19_DEPTH, mode=Mode.SUBTRACT)

    # Fillet1
    fillet1_edges = [part.edges().sort_by_distance(p)[0] for p in [
        (26.67, 11.049, -11.049),
        (26.67, -11.049, -11.049),
        (-26.67, 11.049, 11.049),
        (-26.67, -11.049, 11.049),
        (-26.67, -11.049, -11.049),
        (-26.67, 11.049, -11.049),
        (-11.049, 26.67, -11.049),
        (-11.049, 26.67, 11.049),
        (11.049, 26.67, 11.049),
        (11.049, 26.67, -11.049),
        (11.049, -11.049, 26.67),
        (11.049, 11.049, 26.67),
        (-11.049, 11.049, 26.67),
        (-11.049, -11.049, 26.67),
        (26.67, -11.049, 11.049),
        (26.67, 11.049, 11.049),
    ]]
    fillet(fillet1_edges, radius=FILLET1_R)


solid = part.part
